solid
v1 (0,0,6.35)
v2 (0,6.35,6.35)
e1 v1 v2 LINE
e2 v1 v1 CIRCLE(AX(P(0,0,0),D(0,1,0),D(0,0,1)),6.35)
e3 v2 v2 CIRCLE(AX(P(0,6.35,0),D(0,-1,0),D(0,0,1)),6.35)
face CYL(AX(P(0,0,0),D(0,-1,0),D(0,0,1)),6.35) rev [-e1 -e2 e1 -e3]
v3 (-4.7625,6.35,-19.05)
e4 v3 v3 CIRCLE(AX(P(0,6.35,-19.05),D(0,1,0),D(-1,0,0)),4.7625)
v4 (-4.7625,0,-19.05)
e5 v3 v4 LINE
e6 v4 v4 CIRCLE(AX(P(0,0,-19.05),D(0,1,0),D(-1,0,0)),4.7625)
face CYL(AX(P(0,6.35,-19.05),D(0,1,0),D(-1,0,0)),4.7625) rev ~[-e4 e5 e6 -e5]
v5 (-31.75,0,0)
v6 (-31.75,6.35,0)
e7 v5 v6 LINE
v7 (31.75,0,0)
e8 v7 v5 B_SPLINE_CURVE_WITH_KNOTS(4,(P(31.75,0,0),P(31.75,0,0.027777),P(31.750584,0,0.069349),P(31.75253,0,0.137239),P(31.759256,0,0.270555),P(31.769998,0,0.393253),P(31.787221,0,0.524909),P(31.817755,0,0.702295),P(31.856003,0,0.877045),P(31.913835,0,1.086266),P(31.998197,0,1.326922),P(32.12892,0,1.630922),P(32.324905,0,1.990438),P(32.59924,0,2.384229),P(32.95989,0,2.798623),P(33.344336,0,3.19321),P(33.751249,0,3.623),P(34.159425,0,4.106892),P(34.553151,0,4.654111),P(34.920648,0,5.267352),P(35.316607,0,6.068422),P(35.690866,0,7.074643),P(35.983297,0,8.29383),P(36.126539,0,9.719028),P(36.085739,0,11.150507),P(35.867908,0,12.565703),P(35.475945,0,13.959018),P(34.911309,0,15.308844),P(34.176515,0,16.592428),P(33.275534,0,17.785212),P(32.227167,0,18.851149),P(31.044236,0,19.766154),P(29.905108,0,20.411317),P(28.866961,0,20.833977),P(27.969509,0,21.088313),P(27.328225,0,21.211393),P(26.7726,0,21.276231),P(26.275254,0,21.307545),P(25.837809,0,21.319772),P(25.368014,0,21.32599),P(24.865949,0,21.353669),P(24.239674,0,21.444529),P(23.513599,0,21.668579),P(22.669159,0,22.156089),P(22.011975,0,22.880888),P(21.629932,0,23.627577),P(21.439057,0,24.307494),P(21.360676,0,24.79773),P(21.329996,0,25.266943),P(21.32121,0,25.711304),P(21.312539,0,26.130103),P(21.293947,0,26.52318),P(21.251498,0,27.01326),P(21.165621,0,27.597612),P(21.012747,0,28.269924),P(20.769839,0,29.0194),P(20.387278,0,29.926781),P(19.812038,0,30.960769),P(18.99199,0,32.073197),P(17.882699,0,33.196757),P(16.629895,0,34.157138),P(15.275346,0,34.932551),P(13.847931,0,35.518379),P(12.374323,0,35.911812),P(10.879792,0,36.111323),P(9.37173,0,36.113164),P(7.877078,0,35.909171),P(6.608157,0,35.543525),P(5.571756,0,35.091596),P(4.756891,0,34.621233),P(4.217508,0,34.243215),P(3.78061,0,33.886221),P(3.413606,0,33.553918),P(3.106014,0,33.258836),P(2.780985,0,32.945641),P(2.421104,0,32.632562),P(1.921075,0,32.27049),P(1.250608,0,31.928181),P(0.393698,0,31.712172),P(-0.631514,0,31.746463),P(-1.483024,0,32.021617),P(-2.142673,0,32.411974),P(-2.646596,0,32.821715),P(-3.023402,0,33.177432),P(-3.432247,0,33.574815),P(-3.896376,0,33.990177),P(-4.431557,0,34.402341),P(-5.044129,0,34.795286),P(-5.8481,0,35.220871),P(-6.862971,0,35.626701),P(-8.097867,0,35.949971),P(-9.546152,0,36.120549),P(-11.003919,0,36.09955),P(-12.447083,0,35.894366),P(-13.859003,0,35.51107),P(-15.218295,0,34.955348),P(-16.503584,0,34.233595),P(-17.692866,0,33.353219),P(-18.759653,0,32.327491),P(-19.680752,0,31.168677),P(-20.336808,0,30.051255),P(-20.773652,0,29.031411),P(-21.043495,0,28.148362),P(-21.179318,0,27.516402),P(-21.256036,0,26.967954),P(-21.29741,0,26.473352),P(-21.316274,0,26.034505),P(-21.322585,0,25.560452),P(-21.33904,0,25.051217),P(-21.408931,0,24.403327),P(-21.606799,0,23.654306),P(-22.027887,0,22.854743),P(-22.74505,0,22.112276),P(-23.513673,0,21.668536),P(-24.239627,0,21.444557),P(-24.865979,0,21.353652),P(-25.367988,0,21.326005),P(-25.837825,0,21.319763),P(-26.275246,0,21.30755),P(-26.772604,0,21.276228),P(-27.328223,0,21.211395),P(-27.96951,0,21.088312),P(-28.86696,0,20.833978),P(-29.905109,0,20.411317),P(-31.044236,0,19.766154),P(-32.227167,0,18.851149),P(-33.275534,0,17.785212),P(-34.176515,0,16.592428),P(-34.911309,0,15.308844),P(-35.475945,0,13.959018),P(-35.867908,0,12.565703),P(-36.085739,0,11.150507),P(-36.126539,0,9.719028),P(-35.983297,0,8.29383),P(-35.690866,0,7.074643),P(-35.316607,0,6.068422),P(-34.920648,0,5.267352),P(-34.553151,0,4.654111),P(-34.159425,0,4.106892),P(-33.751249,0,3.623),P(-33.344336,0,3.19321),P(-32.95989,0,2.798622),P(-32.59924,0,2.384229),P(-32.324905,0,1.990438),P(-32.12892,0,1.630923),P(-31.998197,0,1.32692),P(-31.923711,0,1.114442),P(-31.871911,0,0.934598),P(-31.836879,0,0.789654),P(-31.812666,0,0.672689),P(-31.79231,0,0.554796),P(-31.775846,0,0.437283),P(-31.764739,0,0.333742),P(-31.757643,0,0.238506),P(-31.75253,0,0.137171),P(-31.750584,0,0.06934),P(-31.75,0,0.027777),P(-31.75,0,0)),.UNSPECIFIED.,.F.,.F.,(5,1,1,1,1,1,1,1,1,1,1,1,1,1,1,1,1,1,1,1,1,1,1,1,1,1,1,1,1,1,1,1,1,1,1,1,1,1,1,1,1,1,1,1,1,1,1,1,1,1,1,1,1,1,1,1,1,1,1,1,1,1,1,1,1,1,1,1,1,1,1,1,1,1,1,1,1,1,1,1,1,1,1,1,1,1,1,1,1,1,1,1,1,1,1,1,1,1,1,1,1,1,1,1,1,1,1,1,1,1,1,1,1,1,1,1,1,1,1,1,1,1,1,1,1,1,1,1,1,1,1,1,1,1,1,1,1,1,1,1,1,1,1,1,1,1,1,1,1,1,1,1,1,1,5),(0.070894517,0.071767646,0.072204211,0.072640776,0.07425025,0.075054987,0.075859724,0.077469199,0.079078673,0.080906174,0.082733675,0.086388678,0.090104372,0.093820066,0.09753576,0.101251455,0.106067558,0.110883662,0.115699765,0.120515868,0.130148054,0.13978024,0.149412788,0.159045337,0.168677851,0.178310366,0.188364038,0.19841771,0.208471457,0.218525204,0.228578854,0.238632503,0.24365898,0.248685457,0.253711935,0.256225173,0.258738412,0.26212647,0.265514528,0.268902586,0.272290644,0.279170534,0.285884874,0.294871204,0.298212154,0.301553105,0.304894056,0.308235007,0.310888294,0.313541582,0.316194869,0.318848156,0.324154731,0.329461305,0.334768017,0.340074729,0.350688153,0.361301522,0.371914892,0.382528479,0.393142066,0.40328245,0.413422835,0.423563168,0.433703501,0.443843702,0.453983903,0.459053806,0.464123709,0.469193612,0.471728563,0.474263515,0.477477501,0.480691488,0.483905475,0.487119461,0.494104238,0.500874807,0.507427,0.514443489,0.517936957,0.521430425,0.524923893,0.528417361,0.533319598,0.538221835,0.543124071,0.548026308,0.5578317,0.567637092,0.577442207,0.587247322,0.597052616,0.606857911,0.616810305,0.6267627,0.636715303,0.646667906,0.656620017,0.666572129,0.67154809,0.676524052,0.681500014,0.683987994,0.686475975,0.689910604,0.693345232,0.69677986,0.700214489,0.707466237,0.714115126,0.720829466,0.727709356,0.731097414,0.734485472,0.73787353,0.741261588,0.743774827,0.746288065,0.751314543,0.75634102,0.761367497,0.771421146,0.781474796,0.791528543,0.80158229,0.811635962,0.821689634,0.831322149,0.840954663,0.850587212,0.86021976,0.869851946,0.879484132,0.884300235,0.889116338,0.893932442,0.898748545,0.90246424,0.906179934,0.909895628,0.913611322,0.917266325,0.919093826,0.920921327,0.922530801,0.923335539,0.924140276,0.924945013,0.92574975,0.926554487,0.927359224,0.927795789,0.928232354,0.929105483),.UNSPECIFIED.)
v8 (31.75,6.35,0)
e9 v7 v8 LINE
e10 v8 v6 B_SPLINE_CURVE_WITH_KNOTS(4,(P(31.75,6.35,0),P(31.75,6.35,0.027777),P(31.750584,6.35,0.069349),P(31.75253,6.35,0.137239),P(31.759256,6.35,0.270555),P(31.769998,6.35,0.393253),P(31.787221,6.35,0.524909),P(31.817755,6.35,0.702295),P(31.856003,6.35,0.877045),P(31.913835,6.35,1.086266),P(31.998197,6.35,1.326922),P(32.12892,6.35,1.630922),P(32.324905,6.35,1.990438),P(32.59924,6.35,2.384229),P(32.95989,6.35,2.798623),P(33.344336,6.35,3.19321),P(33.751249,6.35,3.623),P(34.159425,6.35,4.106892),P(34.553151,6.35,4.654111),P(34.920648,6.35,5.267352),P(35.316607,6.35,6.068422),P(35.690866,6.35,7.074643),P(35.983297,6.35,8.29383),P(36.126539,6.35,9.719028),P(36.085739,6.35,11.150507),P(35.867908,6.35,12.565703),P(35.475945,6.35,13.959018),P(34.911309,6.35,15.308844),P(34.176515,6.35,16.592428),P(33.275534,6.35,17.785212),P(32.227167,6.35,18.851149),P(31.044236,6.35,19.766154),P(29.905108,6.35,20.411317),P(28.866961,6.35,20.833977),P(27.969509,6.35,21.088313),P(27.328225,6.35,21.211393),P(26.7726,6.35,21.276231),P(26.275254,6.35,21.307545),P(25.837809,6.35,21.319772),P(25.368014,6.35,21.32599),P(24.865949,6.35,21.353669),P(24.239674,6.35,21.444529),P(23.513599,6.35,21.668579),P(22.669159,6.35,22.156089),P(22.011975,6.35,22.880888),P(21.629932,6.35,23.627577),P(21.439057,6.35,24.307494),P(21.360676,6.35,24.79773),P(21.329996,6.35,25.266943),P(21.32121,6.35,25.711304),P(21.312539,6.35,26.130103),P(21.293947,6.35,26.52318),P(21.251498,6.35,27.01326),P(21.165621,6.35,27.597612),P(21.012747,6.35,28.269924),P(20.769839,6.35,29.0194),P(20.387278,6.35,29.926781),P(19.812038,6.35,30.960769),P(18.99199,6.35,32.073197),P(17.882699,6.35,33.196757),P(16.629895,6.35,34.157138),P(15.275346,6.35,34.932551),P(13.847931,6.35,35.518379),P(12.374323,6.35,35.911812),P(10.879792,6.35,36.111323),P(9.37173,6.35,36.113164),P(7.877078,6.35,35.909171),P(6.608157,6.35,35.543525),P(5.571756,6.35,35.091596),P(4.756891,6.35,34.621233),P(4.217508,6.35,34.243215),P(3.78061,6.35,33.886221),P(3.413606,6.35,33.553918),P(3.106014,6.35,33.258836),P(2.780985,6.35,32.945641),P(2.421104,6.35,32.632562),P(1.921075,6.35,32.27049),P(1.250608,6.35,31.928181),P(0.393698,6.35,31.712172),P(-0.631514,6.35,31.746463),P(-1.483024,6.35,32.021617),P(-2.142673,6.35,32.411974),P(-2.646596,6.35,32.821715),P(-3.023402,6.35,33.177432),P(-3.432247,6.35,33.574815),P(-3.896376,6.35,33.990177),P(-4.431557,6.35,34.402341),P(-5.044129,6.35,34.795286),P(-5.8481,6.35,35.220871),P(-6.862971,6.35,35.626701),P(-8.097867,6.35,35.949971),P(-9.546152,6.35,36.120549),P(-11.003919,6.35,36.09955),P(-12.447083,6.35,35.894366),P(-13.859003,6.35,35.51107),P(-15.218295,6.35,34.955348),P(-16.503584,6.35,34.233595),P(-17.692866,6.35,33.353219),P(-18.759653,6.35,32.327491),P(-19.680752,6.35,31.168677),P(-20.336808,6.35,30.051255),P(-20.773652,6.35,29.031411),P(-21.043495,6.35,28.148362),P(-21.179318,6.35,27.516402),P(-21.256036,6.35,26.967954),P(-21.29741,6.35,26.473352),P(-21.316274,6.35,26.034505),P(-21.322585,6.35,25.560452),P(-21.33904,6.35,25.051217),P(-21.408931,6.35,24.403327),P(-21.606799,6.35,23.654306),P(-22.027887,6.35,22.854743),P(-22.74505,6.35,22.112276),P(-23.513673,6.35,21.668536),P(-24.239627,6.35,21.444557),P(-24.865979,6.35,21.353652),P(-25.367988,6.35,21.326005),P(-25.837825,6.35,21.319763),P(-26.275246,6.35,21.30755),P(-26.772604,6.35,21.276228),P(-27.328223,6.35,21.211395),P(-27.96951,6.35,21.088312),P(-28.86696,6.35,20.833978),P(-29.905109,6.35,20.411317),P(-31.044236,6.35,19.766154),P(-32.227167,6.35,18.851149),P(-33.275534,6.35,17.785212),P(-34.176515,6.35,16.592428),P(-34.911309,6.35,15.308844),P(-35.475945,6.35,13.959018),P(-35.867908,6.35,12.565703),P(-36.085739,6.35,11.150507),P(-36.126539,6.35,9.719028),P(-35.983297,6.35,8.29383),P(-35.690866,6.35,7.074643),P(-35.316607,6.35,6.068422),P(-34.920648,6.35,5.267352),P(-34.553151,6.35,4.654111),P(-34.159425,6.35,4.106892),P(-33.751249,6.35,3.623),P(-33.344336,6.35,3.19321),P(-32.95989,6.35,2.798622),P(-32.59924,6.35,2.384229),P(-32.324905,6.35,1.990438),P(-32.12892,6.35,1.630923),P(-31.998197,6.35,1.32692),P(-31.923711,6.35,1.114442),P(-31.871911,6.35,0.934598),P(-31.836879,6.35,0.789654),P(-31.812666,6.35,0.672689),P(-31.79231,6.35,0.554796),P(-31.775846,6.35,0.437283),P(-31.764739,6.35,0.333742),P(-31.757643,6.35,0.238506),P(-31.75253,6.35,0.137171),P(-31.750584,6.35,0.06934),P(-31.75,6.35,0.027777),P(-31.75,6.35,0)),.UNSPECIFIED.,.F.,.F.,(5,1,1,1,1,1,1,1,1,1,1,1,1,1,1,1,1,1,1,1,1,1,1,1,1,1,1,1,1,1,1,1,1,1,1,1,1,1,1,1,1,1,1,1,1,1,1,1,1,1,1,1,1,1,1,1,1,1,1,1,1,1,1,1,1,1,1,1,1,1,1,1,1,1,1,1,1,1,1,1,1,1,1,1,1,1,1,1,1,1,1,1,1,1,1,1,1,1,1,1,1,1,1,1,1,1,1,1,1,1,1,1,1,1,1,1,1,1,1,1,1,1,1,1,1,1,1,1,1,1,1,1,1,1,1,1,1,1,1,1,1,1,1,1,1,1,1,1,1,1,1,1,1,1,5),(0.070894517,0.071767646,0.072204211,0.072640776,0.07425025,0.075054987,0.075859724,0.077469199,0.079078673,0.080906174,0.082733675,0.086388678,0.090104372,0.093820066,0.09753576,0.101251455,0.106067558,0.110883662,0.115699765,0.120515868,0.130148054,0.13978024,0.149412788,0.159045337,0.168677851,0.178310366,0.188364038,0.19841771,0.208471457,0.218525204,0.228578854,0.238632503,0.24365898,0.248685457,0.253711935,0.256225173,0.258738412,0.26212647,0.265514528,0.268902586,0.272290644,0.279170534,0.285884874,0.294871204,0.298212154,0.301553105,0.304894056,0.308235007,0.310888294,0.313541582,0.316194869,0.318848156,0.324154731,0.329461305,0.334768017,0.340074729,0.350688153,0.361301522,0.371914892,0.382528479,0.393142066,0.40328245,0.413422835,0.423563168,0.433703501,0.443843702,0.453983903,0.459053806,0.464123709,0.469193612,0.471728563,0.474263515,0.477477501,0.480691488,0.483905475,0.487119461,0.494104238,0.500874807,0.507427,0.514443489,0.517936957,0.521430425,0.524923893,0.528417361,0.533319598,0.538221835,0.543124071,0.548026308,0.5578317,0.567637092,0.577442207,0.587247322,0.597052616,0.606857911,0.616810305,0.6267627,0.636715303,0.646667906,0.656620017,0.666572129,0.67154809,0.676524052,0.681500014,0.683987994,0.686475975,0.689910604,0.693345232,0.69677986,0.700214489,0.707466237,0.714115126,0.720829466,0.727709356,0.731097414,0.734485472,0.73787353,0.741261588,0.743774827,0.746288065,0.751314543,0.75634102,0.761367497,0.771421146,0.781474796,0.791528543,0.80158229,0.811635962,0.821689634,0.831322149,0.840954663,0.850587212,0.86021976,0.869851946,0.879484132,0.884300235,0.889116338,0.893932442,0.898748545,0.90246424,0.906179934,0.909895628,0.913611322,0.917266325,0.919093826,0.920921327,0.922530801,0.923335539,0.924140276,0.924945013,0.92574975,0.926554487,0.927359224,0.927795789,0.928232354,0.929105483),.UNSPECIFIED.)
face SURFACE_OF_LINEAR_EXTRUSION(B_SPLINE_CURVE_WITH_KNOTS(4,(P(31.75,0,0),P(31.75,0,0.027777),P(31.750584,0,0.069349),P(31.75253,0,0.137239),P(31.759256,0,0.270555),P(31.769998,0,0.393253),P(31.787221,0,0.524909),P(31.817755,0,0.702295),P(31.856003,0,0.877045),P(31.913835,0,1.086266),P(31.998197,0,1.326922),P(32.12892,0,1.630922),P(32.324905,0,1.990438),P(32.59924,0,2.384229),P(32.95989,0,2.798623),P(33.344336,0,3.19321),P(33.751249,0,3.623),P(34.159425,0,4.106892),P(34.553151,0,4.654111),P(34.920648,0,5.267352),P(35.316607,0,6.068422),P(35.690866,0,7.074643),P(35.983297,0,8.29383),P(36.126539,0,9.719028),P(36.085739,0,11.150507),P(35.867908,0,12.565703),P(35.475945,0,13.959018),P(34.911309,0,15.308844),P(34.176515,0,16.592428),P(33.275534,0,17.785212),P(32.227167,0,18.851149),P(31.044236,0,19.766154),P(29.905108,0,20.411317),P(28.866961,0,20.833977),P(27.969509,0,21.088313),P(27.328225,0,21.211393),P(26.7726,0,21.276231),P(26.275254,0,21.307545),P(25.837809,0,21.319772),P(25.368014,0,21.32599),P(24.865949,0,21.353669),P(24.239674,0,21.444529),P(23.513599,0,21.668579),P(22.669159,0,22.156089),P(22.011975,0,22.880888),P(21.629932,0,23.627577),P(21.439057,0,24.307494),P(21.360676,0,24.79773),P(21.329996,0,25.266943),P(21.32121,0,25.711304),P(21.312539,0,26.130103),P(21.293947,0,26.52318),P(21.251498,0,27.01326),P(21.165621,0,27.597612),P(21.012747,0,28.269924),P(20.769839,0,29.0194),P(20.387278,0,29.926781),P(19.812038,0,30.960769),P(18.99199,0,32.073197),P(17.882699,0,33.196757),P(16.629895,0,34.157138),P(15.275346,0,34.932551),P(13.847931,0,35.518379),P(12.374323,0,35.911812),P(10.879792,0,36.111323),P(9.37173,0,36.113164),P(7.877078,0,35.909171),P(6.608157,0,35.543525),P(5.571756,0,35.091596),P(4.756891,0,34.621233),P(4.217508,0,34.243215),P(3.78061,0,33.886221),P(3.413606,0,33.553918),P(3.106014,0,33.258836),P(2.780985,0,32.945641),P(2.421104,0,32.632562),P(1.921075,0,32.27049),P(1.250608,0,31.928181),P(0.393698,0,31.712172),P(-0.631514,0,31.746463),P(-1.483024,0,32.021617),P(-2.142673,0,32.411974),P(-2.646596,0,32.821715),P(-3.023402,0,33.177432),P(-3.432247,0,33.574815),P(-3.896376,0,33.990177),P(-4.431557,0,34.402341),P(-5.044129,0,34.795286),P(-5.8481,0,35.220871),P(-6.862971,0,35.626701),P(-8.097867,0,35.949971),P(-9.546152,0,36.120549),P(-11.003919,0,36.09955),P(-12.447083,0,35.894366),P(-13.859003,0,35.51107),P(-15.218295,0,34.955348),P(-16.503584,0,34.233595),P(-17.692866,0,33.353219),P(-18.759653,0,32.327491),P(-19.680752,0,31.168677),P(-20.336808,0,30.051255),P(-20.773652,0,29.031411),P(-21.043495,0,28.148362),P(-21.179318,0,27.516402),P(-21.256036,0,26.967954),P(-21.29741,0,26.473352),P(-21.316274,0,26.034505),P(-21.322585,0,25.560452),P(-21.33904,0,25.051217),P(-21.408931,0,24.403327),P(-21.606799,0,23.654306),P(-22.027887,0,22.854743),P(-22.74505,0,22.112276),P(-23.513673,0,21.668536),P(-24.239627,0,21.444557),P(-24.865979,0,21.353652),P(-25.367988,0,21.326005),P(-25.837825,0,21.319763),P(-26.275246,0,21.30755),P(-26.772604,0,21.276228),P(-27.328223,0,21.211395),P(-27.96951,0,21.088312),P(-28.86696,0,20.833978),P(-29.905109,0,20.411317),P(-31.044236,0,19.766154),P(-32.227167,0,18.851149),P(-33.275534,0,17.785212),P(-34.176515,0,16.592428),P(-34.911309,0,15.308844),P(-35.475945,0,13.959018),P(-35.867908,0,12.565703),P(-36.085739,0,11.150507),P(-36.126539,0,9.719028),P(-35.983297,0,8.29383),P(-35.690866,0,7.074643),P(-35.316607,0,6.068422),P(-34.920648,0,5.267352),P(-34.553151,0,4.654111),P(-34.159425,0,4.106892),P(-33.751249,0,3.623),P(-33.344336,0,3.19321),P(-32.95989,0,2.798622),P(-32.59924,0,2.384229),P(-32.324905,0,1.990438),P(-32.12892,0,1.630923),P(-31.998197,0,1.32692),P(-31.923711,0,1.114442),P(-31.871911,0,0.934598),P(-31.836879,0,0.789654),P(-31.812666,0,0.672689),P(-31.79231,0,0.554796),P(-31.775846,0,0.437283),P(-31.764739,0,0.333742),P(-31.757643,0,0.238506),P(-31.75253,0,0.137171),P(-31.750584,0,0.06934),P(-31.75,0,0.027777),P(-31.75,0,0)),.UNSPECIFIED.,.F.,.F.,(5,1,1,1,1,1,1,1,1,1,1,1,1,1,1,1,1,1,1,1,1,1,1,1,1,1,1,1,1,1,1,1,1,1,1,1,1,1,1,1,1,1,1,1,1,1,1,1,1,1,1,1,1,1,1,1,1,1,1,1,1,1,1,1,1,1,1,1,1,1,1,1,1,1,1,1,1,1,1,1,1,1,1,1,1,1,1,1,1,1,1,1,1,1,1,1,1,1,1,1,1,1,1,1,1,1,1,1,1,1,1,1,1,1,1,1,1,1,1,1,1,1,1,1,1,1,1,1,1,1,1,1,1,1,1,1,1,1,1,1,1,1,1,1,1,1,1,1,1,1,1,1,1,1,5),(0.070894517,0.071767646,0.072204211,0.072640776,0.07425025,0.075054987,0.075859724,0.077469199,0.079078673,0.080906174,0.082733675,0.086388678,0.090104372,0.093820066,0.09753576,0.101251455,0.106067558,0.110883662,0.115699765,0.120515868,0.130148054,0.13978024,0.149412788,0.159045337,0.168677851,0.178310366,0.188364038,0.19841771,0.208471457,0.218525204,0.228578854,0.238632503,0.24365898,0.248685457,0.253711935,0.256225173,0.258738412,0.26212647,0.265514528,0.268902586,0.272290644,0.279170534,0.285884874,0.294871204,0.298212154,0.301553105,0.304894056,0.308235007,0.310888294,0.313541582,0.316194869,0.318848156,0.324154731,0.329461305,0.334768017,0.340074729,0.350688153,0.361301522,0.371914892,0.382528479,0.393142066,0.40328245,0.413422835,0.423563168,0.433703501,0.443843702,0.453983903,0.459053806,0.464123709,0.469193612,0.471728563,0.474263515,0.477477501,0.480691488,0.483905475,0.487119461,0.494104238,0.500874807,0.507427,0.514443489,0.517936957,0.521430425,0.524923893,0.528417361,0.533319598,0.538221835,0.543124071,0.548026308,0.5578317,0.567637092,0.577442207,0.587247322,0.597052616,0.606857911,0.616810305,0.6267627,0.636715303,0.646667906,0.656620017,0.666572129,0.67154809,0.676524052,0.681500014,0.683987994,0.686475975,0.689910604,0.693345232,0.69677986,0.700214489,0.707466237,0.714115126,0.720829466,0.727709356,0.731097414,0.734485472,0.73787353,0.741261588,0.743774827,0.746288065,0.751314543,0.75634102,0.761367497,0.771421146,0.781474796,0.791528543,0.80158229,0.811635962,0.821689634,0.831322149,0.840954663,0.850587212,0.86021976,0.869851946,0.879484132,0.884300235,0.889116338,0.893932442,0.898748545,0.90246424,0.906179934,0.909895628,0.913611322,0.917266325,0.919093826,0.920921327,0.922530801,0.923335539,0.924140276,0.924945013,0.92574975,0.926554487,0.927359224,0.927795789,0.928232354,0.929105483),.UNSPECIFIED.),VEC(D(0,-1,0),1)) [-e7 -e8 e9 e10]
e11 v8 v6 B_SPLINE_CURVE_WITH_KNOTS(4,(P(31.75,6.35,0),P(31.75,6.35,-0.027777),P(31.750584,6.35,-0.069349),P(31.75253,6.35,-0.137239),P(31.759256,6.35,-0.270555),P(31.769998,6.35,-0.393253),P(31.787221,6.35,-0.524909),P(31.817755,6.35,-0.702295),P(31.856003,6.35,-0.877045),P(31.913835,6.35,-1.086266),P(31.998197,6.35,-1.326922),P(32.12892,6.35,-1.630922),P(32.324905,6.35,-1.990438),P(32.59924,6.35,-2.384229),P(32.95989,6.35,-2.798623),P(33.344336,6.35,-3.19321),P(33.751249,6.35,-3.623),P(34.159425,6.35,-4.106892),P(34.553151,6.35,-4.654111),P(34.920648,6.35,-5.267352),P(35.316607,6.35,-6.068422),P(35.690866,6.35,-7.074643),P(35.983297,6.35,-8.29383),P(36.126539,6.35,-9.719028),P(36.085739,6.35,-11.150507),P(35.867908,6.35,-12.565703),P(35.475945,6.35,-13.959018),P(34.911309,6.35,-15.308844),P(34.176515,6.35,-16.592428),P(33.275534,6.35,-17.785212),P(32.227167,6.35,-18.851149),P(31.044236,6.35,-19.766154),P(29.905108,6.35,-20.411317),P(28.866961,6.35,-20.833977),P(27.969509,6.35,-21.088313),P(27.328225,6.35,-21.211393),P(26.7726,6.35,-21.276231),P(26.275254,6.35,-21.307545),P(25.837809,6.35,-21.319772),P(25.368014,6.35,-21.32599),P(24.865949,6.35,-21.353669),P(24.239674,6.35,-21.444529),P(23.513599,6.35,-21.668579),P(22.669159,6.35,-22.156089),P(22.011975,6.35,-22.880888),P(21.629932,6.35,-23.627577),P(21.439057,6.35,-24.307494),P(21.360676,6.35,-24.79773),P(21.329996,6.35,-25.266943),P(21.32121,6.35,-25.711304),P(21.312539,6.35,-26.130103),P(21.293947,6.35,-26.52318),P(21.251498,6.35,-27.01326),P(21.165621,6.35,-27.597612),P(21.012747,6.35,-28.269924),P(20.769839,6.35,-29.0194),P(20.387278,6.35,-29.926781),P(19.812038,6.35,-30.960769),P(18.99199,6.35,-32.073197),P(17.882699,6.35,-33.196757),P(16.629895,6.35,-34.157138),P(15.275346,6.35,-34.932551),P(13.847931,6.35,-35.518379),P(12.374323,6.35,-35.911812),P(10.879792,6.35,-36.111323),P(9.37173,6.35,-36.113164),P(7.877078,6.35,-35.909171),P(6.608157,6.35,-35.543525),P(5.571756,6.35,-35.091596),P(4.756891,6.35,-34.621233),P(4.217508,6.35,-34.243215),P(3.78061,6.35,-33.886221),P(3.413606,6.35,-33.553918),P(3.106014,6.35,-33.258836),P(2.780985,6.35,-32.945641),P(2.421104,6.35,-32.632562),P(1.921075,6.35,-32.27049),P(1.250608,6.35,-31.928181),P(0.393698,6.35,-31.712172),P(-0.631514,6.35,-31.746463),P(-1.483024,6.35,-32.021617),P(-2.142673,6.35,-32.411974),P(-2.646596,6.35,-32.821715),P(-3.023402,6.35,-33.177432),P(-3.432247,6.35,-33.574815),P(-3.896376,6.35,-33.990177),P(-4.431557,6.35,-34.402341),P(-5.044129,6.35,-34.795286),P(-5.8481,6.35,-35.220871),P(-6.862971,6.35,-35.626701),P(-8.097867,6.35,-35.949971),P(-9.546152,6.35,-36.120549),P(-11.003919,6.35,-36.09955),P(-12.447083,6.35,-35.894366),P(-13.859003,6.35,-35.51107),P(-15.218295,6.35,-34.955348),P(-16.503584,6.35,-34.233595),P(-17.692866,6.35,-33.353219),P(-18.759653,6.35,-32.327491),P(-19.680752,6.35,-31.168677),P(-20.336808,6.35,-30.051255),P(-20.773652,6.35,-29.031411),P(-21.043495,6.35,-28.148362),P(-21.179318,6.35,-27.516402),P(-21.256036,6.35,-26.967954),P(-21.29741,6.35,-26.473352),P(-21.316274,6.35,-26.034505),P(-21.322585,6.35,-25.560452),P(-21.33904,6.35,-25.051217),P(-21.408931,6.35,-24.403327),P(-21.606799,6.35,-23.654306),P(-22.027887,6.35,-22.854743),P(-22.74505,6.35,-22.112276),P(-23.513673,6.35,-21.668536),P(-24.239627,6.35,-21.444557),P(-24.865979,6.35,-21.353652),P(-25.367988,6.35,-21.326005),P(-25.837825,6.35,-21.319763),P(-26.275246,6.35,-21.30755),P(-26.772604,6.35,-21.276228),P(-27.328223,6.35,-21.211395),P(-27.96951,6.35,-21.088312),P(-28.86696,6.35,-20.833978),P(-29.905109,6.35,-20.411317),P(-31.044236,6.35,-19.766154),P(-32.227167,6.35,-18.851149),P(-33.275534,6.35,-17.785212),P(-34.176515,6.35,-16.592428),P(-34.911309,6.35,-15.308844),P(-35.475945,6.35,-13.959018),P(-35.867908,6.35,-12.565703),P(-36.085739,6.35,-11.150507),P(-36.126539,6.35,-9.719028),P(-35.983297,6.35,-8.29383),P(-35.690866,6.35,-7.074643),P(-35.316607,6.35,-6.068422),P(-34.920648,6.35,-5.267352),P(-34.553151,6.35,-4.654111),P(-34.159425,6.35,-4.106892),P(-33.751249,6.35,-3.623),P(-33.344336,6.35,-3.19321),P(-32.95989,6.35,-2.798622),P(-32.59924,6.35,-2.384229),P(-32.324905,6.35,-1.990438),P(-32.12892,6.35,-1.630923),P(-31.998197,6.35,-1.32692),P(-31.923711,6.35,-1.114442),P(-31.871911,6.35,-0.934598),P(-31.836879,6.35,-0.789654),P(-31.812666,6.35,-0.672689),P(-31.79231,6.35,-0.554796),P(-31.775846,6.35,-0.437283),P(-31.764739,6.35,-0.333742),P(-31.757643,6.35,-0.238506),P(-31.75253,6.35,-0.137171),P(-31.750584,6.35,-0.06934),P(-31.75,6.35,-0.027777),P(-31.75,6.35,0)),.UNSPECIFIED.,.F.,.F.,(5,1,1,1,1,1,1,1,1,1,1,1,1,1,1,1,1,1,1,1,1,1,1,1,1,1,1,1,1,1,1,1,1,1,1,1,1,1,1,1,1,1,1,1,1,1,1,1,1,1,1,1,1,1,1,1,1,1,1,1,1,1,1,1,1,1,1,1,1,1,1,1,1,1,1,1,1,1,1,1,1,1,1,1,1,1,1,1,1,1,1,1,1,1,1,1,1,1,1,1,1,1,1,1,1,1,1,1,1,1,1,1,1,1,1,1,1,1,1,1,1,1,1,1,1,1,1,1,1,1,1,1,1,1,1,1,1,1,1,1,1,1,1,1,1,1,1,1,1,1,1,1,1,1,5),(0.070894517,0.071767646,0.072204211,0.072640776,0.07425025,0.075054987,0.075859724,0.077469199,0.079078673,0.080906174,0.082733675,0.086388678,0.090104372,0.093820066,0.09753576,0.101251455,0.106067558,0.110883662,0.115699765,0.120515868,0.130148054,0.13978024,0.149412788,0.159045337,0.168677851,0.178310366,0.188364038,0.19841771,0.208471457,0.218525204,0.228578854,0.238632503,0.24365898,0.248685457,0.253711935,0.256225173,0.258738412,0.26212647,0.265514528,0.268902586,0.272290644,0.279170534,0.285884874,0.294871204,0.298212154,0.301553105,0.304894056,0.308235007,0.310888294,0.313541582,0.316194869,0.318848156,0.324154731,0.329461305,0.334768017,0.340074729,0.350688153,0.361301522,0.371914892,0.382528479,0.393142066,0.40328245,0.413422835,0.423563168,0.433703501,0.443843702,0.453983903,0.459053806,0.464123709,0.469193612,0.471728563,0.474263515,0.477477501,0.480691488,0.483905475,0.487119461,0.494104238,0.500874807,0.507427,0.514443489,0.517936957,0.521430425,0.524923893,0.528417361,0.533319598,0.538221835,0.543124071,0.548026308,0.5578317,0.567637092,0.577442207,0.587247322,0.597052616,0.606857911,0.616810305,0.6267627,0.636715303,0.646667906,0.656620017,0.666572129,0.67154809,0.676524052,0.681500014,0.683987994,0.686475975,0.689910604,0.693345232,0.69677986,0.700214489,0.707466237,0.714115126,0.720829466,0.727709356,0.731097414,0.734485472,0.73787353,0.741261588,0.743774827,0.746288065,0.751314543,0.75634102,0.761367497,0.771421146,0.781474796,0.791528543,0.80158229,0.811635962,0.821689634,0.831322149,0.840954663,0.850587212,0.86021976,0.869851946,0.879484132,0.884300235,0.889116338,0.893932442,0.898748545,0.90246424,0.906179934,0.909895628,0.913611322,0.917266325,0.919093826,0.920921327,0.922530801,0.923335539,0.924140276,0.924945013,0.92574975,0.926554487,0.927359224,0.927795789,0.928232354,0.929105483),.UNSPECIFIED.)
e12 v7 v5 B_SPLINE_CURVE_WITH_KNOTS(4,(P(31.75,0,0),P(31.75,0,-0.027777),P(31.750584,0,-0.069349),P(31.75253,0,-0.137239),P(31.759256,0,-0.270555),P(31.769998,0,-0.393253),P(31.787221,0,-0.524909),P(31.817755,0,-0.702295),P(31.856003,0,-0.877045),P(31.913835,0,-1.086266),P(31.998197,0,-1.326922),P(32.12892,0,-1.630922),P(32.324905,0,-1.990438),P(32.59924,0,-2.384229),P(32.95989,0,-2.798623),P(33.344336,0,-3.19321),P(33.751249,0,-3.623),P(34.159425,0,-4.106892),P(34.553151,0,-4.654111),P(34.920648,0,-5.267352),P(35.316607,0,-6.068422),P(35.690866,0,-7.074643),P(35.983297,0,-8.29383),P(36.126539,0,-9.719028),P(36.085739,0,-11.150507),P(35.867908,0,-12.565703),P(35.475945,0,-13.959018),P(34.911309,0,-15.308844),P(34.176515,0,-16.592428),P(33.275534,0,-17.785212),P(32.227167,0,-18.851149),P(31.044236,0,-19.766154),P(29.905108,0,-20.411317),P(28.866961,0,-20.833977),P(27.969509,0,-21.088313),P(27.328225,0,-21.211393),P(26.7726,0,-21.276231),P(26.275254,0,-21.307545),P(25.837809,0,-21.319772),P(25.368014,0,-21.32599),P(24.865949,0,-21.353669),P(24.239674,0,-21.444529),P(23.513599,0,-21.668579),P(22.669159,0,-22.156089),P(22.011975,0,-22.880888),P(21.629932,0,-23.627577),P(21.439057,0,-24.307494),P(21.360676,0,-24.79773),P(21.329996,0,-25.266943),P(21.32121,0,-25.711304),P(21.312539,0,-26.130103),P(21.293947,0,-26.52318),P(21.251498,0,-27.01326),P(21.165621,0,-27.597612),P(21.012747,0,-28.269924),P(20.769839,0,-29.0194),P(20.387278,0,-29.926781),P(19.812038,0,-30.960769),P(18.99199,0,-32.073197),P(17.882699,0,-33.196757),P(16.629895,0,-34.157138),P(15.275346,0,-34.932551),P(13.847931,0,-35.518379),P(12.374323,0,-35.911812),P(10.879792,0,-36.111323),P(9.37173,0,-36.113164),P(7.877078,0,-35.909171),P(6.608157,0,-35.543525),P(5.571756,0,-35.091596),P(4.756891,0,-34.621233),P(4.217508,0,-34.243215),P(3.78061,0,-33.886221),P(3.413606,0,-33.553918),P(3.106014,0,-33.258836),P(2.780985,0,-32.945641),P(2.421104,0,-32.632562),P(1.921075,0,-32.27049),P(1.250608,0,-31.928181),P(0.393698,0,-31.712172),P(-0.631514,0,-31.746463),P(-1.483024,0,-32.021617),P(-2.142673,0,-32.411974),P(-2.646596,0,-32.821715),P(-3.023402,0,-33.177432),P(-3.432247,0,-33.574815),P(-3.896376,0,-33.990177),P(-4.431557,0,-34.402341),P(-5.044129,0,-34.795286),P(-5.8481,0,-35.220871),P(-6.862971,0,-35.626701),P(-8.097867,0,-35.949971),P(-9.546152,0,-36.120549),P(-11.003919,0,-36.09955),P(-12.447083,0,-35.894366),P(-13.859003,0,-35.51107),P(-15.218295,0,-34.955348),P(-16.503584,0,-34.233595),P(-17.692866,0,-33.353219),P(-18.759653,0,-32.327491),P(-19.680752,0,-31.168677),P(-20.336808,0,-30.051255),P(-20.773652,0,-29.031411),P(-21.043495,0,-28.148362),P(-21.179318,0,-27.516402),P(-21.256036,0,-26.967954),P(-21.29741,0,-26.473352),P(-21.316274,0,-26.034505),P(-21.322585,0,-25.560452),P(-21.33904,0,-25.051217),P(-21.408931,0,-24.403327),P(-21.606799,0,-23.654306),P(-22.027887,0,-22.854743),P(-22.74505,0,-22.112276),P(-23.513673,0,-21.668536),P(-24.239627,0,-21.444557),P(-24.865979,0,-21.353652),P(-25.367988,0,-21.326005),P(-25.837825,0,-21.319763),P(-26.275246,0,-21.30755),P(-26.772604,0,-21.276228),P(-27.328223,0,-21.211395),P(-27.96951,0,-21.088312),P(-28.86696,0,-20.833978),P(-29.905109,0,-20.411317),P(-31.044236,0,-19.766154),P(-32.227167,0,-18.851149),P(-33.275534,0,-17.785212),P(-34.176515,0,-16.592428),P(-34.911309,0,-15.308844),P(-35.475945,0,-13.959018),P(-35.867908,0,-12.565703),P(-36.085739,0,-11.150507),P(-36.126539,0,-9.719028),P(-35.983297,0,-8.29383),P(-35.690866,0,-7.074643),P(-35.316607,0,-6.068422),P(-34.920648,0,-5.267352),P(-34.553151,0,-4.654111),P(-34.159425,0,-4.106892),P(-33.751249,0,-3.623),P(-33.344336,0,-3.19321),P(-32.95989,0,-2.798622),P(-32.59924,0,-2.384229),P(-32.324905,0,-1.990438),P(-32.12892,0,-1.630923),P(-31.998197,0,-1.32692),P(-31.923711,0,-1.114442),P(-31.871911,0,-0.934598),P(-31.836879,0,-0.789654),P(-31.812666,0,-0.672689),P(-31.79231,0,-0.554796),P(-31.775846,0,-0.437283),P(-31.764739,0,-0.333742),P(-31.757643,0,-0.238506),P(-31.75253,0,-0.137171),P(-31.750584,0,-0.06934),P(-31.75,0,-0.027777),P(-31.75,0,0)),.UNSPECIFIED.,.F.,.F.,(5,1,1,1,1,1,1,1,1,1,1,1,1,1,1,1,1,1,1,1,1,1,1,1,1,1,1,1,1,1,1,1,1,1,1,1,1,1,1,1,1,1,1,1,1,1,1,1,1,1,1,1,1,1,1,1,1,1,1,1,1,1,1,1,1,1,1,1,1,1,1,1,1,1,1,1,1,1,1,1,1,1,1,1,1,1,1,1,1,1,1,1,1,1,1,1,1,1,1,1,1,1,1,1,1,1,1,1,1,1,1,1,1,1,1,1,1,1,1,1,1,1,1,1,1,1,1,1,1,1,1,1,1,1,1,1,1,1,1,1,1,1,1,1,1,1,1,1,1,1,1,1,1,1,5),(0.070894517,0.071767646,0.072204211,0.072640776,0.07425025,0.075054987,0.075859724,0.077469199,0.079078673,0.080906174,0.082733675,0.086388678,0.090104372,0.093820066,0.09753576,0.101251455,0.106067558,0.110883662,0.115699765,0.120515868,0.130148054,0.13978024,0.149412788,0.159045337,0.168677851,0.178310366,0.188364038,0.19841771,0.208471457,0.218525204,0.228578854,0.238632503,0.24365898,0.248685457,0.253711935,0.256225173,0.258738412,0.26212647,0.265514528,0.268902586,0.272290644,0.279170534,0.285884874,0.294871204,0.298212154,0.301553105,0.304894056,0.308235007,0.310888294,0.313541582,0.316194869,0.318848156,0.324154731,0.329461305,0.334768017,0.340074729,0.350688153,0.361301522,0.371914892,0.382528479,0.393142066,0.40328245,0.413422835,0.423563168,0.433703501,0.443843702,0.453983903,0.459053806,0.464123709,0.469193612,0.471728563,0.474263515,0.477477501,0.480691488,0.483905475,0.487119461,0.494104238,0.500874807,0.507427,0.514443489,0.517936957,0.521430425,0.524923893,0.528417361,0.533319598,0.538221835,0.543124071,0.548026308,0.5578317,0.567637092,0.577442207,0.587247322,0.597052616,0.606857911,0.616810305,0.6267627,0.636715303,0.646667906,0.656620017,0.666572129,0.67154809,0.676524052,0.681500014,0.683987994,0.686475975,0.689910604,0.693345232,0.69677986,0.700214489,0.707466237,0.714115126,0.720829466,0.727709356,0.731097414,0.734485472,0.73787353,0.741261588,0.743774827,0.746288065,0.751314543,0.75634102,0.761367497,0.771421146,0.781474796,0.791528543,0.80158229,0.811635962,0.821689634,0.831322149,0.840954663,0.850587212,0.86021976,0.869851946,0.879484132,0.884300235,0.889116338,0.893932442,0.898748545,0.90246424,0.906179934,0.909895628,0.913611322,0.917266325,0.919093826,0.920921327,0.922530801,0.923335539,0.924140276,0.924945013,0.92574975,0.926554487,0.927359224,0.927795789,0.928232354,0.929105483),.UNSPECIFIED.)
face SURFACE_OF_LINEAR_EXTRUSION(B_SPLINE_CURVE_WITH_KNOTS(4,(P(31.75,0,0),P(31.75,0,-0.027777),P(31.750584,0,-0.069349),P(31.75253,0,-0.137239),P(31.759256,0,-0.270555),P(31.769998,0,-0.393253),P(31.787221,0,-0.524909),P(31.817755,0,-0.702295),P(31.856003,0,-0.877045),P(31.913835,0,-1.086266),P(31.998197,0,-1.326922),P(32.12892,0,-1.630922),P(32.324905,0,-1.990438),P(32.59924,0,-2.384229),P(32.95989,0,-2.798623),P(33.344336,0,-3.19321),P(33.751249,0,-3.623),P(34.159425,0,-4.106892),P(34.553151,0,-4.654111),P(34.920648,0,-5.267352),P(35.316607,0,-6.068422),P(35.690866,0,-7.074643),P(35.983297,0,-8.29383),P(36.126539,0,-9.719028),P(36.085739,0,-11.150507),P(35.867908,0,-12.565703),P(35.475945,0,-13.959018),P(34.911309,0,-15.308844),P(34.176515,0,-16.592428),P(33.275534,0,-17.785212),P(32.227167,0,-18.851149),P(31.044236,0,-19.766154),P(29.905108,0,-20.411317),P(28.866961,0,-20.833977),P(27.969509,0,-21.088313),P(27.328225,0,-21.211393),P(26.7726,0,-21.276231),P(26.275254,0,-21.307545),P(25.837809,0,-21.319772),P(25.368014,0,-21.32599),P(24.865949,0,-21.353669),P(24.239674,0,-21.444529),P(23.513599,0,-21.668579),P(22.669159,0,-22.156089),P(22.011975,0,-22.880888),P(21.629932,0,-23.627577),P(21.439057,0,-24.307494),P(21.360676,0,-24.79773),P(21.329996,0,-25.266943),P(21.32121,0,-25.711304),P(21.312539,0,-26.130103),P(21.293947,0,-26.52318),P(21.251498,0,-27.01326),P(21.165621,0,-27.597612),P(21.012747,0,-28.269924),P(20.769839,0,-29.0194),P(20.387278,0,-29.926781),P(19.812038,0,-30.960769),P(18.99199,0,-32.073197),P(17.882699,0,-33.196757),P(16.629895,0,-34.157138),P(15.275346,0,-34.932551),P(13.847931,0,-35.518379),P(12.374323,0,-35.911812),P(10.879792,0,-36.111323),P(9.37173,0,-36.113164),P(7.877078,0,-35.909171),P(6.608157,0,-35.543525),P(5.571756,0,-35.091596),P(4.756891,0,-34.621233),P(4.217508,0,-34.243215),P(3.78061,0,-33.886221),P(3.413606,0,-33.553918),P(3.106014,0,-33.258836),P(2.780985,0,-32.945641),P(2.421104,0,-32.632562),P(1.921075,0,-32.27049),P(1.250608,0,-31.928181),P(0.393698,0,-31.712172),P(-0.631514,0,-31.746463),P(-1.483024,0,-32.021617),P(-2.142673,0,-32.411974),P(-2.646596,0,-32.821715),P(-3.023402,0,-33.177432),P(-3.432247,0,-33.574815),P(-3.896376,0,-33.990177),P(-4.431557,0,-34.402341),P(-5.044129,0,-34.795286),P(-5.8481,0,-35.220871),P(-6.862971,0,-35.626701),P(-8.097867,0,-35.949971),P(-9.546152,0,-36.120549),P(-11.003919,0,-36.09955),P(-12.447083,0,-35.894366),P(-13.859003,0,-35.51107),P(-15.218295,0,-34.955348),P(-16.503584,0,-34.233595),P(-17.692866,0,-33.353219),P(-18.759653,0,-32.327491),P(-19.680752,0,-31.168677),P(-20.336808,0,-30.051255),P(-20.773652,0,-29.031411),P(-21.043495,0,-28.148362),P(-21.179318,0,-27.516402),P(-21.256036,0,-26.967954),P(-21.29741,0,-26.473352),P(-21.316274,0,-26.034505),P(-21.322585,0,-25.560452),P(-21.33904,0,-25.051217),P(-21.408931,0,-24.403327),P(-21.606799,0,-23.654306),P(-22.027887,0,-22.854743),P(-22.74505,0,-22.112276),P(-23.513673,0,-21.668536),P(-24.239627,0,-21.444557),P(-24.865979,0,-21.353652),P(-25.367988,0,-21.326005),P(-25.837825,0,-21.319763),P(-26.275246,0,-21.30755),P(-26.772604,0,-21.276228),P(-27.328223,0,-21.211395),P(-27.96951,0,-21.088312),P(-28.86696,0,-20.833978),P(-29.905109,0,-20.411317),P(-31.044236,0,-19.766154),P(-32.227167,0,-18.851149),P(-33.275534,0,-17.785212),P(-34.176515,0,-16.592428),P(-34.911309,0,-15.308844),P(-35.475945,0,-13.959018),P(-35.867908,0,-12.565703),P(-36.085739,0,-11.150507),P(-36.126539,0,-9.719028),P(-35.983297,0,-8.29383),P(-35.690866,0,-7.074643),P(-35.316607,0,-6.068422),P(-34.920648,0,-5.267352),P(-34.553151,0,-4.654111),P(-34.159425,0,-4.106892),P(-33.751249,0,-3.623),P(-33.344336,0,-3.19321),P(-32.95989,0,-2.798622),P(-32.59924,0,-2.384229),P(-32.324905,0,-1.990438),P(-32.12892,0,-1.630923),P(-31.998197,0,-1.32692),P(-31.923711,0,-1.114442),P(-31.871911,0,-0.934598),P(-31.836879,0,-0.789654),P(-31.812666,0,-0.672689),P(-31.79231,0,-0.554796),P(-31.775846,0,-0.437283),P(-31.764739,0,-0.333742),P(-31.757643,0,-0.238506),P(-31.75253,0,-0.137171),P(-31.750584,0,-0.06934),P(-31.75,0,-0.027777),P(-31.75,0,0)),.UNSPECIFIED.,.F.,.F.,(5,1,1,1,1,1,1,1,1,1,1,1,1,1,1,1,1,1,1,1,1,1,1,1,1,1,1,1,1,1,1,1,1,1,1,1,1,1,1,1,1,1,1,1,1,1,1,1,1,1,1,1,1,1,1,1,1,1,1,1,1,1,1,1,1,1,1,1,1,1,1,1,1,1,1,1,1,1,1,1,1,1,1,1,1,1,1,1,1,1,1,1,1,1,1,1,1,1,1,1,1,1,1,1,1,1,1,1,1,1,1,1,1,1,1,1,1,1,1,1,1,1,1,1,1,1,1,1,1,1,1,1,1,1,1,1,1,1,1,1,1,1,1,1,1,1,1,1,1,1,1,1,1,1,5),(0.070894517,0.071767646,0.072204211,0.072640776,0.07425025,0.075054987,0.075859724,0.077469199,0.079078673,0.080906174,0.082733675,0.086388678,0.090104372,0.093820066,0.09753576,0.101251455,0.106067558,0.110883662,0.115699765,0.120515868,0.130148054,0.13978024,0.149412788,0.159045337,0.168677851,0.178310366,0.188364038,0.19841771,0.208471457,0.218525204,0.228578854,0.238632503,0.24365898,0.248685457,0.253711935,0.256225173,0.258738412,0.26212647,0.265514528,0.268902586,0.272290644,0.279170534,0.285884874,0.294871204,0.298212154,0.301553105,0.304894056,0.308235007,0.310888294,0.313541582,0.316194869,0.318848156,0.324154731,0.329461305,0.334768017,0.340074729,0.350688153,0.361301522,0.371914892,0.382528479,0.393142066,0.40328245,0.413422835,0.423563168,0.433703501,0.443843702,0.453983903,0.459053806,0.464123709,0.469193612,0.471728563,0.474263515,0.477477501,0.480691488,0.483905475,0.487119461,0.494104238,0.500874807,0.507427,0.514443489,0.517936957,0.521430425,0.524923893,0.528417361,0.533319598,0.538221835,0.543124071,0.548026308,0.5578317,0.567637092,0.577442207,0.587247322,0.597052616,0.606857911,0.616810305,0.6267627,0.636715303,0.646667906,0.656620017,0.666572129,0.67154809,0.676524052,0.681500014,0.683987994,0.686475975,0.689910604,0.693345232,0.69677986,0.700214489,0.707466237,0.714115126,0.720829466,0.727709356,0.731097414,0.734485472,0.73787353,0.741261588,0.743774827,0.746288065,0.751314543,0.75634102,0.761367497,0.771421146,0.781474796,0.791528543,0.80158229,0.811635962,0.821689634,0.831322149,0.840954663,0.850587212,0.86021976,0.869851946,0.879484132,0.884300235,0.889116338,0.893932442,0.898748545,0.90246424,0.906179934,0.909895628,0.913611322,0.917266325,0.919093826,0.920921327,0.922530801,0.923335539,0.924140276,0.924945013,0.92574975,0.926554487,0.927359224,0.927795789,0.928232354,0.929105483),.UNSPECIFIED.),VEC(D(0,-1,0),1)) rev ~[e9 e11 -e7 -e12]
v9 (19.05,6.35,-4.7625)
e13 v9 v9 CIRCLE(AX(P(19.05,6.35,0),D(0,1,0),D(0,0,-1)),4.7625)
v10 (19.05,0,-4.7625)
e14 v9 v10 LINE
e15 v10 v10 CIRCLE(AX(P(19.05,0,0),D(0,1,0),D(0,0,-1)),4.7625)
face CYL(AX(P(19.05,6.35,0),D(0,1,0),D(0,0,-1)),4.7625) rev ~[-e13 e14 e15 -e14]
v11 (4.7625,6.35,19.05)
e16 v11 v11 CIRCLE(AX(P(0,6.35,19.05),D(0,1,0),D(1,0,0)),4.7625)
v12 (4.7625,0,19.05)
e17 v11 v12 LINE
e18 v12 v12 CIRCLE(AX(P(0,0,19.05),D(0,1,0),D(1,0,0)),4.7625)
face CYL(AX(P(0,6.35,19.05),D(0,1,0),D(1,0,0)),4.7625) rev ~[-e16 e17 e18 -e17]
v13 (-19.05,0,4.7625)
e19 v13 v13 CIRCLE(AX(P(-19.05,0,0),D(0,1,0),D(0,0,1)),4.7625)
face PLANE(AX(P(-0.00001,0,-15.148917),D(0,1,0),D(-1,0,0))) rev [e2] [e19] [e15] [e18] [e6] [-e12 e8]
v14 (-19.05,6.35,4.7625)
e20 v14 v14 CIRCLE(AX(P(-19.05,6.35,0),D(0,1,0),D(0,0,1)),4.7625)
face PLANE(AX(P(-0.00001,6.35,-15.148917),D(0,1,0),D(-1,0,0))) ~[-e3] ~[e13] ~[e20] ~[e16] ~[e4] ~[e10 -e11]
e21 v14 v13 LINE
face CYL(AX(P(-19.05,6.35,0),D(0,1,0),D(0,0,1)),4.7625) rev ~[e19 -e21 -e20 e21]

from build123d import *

# Parameters (mm, degrees)
BOSS_EXTRUDE4_DEPTH = 6.35
SKETCH8_R           = 6.35
CUT_EXTRUDE3_DEPTH  = 52.440090019
SKETCH9_R           = 4.7625
CUT_EXTRUDE4_DEPTH  = 6.35
CIRPATTERN1_COUNT   = 4


with BuildPart() as part:
    # Sketch5 → Boss-Extrude4 (new body)
    with BuildSketch(Plane(origin=(0, 0, 0), x_dir=(1, 0, 0), z_dir=(0, 1, 0))):
        with BuildLine():
            Line((31.75, 0), (-31.75, 0))
            add(Edge.make_bspline(
                [(31.75, 0), (31.75, -0.027776845), (31.750583752, -0.069349158), (31.752529604, -0.137238783), (31.759255701, -0.270555498), (31.769997993, -0.393253352), (31.787221149, -0.524909201), (31.817755186, -0.702295042), (31.856002994, -0.877045111), (31.913834916, -1.086266021), (31.998196969, -1.326921893), (32.128920184, -1.630922104), (32.32490506, -1.990438346), (32.599240141, -2.384228967), (32.959889561, -2.798622608), (33.344335858, -3.19320981), (33.751249013, -3.622999851), (34.15942531, -4.106892192), (34.553151332, -4.654110625), (34.920648303, -5.267351657), (35.316606739, -6.068421601), (35.690865683, -7.074642663), (35.983297148, -8.293830204), (36.126538526, -9.719028337), (36.085738806, -11.150507476), (35.867907682, -12.56570304), (35.475945204, -13.959017654), (34.911309026, -15.308843969), (34.176514851, -16.592428488), (33.275534228, -17.785212301), (32.227167058, -18.851149053), (31.044236261, -19.766153913), (29.905108081, -20.411317416), (28.866960855, -20.833977076), (27.969508557, -21.08831302), (27.32822541, -21.211393416), (26.772599791, -21.276230682), (26.275253596, -21.307544975), (25.837809362, -21.319772334), (25.368013965, -21.325990122), (24.865948859, -21.353669464), (24.239674397, -21.444529197), (23.513599496, -21.668579116), (22.669158581, -22.156089438), (22.011974501, -22.88088819), (21.629932343, -23.627576851), (21.43905675, -24.307494378), (21.360676209, -24.797729895), (21.329996484, -25.266942743), (21.321210203, -25.71130398), (21.312538804, -26.130102853), (21.293946977, -26.52318), (21.251498022, -27.013260439), (21.165621468, -27.597612273), (21.012747029, -28.269924442), (20.769838958, -29.019400457), (20.387278039, -29.926780862), (19.812038455, -30.960768631), (18.991990495, -32.073197009), (17.882699258, -33.196757029), (16.629894922, -34.157138118), (15.275346451, -34.932551001), (13.847931071, -35.518379303), (12.374322653, -35.91181192), (10.879792191, -36.111322783), (9.3717296, -36.113164471), (7.877077637, -35.90917091), (6.608157457, -35.543524796), (5.571756044, -35.091596393), (4.756891282, -34.621233456), (4.217507558, -34.243215135), (3.780610288, -33.886221447), (3.413605746, -33.553918027), (3.106013537, -33.258836495), (2.780984828, -32.945640654), (2.421104272, -32.632562315), (1.921074902, -32.270490191), (1.250607851, -31.928180863), (0.39369838, -31.712171566), (-0.631514334, -31.746462986), (-1.483023918, -32.021616831), (-2.142672726, -32.411973774), (-2.646595838, -32.821715294), (-3.023402195, -33.177431791), (-3.432246636, -33.574815183), (-3.89637565, -33.990176573), (-4.43155716, -34.402341089), (-5.044128964, -34.795286053), (-5.848099982, -35.220871487), (-6.862970973, -35.626700759), (-8.097866537, -35.94997098), (-9.546152065, -36.120549341), (-11.003919231, -36.099549654), (-12.44708337, -35.894366171), (-13.859002663, -35.511070029), (-15.218294672, -34.955348038), (-16.503584008, -34.23359521), (-17.692865575, -33.353218762), (-18.759652812, -32.32749086), (-19.680751861, -31.168676714), (-20.336808122, -30.051255467), (-20.773651766, -29.031411194), (-21.043495457, -28.148362219), (-21.179318366, -27.516401865), (-21.256036101, -26.967953542), (-21.297409676, -26.473352214), (-21.316273705, -26.034505425), (-21.322584619, -25.560451917), (-21.339039819, -25.051216794), (-21.408931229, -24.403327191), (-21.606798527, -23.654306163), (-22.027887394, -22.854742671), (-22.745050481, -22.112275511), (-23.513673463, -21.668536419), (-24.239626751, -21.44455674), (-24.865979098, -21.353651976), (-25.367988308, -21.326004963), (-25.837825405, -21.319763054), (-26.275245708, -21.307549538), (-26.772604348, -21.276228046), (-27.328222655, -21.21139501), (-27.969509897, -21.088312244), (-28.866960087, -20.833977521), (-29.905108567, -20.411317134), (-31.044235962, -19.766154086), (-32.227167227, -18.851148955), (-33.275534128, -17.785212359), (-34.176514913, -16.592428452), (-34.911308989, -15.308843991), (-35.475945227, -13.95901764), (-35.867907668, -12.565703049), (-36.085738815, -11.150507469), (-36.126538521, -9.719028343), (-35.983297151, -8.293830197), (-35.69086568, -7.074642671), (-35.316606741, -6.068421589), (-34.920648302, -5.267351677), (-34.553151333, -4.654110584), (-34.15942531, -4.106892264), (-33.751249013, -3.622999732), (-33.344335858, -3.193210007), (-32.959889561, -2.798622268), (-32.599240141, -2.384229473), (-32.32490506, -1.990437602), (-32.128920184, -1.630923126), (-31.998196969, -1.326920363), (-31.923711227, -1.114441517), (-31.871911432, -0.934597733), (-31.836878588, -0.789654474), (-31.812666179, -0.672688853), (-31.792310156, -0.554795581), (-31.775846454, -0.437282937), (-31.764738594, -0.333742435), (-31.757642718, -0.238505689), (-31.752529603, -0.137171321), (-31.750583752, -0.069340206), (-31.75, -0.027776845), (-31.75, 0)],
                knots=[0.070894517, 0.070894517, 0.070894517, 0.070894517, 0.070894517, 0.071767646, 0.072204211, 0.072640776, 0.07425025, 0.075054987, 0.075859724, 0.077469199, 0.079078673, 0.080906174, 0.082733675, 0.086388678, 0.090104372, 0.093820066, 0.09753576, 0.101251455, 0.106067558, 0.110883662, 0.115699765, 0.120515868, 0.130148054, 0.13978024, 0.149412788, 0.159045337, 0.168677851, 0.178310366, 0.188364038, 0.19841771, 0.208471457, 0.218525204, 0.228578854, 0.238632503, 0.24365898, 0.248685457, 0.253711935, 0.256225173, 0.258738412, 0.26212647, 0.265514528, 0.268902586, 0.272290644, 0.279170534, 0.285884874, 0.294871204, 0.298212154, 0.301553105, 0.304894056, 0.308235007, 0.310888294, 0.313541582, 0.316194869, 0.318848156, 0.324154731, 0.329461305, 0.334768017, 0.340074729, 0.350688153, 0.361301522, 0.371914892, 0.382528479, 0.393142066, 0.40328245, 0.413422835, 0.423563168, 0.433703501, 0.443843702, 0.453983903, 0.459053806, 0.464123709, 0.469193612, 0.471728563, 0.474263515, 0.477477501, 0.480691488, 0.483905475, 0.487119461, 0.494104238, 0.500874807, 0.507427, 0.514443489, 0.517936957, 0.521430425, 0.524923893, 0.528417361, 0.533319598, 0.538221835, 0.543124071, 0.548026308, 0.5578317, 0.567637092, 0.577442207, 0.587247322, 0.597052616, 0.606857911, 0.616810305, 0.6267627, 0.636715303, 0.646667906, 0.656620017, 0.666572129, 0.67154809, 0.676524052, 0.681500014, 0.683987994, 0.686475975, 0.689910604, 0.693345232, 0.69677986, 0.700214489, 0.707466237, 0.714115126, 0.720829466, 0.727709356, 0.731097414, 0.734485472, 0.73787353, 0.741261588, 0.743774827, 0.746288065, 0.751314543, 0.75634102, 0.761367497, 0.771421146, 0.781474796, 0.791528543, 0.80158229, 0.811635962, 0.821689634, 0.831322149, 0.840954663, 0.850587212, 0.86021976, 0.869851946, 0.879484132, 0.884300235, 0.889116338, 0.893932442, 0.898748545, 0.90246424, 0.906179934, 0.909895628, 0.913611322, 0.917266325, 0.919093826, 0.920921327, 0.922530801, 0.923335539, 0.924140276, 0.924945013, 0.92574975, 0.926554487, 0.927359224, 0.927795789, 0.928232354, 0.929105483, 0.929105483, 0.929105483, 0.929105483, 0.929105483], degree=4))
        make_face()
    boss_extrude4 = extrude(amount=BOSS_EXTRUDE4_DEPTH)

    # Mirror1: Boss-Extrude4 across plane
    add(boss_extrude4.mirror(Plane(origin=(0, 6.35, 0), x_dir=(1, 0, 0), z_dir=(0, 0, -1))))

    # Sketch8 → Cut-Extrude3 (cut, through all)
    with BuildSketch(Plane(origin=(0, 0, 0), x_dir=(1, 0, 0), z_dir=(0, 1, 0))):
        with Locations(Location((0, 0, 0), (0, 0, 270))):
            Circle(SKETCH8_R)
    extrude(amount=CUT_EXTRUDE3_DEPTH, mode=Mode.SUBTRACT)

    # Sketch9 → Cut-Extrude4 (cut)
    with BuildSketch(Plane(origin=(0, 6.35, 0), x_dir=(1, 0, 0), z_dir=(0, 1, 0))):
        with Locations(Location((-19.05, 0, 0), (0, 0, 270))):
            Circle(SKETCH9_R)
    cut_extrude4 = extrude(amount=-CUT_EXTRUDE4_DEPTH, mode=Mode.SUBTRACT)

    # CirPattern1: Cut-Extrude4 ×4 about axis
    cirpattern1_axis = Axis((0, 0, 0), (0, 1, 0))
    for i in range(1, CIRPATTERN1_COUNT):
        add(cut_extrude4.rotate(cirpattern1_axis, i * 360 / CIRPATTERN1_COUNT), mode=Mode.SUBTRACT)


solid = part.part
